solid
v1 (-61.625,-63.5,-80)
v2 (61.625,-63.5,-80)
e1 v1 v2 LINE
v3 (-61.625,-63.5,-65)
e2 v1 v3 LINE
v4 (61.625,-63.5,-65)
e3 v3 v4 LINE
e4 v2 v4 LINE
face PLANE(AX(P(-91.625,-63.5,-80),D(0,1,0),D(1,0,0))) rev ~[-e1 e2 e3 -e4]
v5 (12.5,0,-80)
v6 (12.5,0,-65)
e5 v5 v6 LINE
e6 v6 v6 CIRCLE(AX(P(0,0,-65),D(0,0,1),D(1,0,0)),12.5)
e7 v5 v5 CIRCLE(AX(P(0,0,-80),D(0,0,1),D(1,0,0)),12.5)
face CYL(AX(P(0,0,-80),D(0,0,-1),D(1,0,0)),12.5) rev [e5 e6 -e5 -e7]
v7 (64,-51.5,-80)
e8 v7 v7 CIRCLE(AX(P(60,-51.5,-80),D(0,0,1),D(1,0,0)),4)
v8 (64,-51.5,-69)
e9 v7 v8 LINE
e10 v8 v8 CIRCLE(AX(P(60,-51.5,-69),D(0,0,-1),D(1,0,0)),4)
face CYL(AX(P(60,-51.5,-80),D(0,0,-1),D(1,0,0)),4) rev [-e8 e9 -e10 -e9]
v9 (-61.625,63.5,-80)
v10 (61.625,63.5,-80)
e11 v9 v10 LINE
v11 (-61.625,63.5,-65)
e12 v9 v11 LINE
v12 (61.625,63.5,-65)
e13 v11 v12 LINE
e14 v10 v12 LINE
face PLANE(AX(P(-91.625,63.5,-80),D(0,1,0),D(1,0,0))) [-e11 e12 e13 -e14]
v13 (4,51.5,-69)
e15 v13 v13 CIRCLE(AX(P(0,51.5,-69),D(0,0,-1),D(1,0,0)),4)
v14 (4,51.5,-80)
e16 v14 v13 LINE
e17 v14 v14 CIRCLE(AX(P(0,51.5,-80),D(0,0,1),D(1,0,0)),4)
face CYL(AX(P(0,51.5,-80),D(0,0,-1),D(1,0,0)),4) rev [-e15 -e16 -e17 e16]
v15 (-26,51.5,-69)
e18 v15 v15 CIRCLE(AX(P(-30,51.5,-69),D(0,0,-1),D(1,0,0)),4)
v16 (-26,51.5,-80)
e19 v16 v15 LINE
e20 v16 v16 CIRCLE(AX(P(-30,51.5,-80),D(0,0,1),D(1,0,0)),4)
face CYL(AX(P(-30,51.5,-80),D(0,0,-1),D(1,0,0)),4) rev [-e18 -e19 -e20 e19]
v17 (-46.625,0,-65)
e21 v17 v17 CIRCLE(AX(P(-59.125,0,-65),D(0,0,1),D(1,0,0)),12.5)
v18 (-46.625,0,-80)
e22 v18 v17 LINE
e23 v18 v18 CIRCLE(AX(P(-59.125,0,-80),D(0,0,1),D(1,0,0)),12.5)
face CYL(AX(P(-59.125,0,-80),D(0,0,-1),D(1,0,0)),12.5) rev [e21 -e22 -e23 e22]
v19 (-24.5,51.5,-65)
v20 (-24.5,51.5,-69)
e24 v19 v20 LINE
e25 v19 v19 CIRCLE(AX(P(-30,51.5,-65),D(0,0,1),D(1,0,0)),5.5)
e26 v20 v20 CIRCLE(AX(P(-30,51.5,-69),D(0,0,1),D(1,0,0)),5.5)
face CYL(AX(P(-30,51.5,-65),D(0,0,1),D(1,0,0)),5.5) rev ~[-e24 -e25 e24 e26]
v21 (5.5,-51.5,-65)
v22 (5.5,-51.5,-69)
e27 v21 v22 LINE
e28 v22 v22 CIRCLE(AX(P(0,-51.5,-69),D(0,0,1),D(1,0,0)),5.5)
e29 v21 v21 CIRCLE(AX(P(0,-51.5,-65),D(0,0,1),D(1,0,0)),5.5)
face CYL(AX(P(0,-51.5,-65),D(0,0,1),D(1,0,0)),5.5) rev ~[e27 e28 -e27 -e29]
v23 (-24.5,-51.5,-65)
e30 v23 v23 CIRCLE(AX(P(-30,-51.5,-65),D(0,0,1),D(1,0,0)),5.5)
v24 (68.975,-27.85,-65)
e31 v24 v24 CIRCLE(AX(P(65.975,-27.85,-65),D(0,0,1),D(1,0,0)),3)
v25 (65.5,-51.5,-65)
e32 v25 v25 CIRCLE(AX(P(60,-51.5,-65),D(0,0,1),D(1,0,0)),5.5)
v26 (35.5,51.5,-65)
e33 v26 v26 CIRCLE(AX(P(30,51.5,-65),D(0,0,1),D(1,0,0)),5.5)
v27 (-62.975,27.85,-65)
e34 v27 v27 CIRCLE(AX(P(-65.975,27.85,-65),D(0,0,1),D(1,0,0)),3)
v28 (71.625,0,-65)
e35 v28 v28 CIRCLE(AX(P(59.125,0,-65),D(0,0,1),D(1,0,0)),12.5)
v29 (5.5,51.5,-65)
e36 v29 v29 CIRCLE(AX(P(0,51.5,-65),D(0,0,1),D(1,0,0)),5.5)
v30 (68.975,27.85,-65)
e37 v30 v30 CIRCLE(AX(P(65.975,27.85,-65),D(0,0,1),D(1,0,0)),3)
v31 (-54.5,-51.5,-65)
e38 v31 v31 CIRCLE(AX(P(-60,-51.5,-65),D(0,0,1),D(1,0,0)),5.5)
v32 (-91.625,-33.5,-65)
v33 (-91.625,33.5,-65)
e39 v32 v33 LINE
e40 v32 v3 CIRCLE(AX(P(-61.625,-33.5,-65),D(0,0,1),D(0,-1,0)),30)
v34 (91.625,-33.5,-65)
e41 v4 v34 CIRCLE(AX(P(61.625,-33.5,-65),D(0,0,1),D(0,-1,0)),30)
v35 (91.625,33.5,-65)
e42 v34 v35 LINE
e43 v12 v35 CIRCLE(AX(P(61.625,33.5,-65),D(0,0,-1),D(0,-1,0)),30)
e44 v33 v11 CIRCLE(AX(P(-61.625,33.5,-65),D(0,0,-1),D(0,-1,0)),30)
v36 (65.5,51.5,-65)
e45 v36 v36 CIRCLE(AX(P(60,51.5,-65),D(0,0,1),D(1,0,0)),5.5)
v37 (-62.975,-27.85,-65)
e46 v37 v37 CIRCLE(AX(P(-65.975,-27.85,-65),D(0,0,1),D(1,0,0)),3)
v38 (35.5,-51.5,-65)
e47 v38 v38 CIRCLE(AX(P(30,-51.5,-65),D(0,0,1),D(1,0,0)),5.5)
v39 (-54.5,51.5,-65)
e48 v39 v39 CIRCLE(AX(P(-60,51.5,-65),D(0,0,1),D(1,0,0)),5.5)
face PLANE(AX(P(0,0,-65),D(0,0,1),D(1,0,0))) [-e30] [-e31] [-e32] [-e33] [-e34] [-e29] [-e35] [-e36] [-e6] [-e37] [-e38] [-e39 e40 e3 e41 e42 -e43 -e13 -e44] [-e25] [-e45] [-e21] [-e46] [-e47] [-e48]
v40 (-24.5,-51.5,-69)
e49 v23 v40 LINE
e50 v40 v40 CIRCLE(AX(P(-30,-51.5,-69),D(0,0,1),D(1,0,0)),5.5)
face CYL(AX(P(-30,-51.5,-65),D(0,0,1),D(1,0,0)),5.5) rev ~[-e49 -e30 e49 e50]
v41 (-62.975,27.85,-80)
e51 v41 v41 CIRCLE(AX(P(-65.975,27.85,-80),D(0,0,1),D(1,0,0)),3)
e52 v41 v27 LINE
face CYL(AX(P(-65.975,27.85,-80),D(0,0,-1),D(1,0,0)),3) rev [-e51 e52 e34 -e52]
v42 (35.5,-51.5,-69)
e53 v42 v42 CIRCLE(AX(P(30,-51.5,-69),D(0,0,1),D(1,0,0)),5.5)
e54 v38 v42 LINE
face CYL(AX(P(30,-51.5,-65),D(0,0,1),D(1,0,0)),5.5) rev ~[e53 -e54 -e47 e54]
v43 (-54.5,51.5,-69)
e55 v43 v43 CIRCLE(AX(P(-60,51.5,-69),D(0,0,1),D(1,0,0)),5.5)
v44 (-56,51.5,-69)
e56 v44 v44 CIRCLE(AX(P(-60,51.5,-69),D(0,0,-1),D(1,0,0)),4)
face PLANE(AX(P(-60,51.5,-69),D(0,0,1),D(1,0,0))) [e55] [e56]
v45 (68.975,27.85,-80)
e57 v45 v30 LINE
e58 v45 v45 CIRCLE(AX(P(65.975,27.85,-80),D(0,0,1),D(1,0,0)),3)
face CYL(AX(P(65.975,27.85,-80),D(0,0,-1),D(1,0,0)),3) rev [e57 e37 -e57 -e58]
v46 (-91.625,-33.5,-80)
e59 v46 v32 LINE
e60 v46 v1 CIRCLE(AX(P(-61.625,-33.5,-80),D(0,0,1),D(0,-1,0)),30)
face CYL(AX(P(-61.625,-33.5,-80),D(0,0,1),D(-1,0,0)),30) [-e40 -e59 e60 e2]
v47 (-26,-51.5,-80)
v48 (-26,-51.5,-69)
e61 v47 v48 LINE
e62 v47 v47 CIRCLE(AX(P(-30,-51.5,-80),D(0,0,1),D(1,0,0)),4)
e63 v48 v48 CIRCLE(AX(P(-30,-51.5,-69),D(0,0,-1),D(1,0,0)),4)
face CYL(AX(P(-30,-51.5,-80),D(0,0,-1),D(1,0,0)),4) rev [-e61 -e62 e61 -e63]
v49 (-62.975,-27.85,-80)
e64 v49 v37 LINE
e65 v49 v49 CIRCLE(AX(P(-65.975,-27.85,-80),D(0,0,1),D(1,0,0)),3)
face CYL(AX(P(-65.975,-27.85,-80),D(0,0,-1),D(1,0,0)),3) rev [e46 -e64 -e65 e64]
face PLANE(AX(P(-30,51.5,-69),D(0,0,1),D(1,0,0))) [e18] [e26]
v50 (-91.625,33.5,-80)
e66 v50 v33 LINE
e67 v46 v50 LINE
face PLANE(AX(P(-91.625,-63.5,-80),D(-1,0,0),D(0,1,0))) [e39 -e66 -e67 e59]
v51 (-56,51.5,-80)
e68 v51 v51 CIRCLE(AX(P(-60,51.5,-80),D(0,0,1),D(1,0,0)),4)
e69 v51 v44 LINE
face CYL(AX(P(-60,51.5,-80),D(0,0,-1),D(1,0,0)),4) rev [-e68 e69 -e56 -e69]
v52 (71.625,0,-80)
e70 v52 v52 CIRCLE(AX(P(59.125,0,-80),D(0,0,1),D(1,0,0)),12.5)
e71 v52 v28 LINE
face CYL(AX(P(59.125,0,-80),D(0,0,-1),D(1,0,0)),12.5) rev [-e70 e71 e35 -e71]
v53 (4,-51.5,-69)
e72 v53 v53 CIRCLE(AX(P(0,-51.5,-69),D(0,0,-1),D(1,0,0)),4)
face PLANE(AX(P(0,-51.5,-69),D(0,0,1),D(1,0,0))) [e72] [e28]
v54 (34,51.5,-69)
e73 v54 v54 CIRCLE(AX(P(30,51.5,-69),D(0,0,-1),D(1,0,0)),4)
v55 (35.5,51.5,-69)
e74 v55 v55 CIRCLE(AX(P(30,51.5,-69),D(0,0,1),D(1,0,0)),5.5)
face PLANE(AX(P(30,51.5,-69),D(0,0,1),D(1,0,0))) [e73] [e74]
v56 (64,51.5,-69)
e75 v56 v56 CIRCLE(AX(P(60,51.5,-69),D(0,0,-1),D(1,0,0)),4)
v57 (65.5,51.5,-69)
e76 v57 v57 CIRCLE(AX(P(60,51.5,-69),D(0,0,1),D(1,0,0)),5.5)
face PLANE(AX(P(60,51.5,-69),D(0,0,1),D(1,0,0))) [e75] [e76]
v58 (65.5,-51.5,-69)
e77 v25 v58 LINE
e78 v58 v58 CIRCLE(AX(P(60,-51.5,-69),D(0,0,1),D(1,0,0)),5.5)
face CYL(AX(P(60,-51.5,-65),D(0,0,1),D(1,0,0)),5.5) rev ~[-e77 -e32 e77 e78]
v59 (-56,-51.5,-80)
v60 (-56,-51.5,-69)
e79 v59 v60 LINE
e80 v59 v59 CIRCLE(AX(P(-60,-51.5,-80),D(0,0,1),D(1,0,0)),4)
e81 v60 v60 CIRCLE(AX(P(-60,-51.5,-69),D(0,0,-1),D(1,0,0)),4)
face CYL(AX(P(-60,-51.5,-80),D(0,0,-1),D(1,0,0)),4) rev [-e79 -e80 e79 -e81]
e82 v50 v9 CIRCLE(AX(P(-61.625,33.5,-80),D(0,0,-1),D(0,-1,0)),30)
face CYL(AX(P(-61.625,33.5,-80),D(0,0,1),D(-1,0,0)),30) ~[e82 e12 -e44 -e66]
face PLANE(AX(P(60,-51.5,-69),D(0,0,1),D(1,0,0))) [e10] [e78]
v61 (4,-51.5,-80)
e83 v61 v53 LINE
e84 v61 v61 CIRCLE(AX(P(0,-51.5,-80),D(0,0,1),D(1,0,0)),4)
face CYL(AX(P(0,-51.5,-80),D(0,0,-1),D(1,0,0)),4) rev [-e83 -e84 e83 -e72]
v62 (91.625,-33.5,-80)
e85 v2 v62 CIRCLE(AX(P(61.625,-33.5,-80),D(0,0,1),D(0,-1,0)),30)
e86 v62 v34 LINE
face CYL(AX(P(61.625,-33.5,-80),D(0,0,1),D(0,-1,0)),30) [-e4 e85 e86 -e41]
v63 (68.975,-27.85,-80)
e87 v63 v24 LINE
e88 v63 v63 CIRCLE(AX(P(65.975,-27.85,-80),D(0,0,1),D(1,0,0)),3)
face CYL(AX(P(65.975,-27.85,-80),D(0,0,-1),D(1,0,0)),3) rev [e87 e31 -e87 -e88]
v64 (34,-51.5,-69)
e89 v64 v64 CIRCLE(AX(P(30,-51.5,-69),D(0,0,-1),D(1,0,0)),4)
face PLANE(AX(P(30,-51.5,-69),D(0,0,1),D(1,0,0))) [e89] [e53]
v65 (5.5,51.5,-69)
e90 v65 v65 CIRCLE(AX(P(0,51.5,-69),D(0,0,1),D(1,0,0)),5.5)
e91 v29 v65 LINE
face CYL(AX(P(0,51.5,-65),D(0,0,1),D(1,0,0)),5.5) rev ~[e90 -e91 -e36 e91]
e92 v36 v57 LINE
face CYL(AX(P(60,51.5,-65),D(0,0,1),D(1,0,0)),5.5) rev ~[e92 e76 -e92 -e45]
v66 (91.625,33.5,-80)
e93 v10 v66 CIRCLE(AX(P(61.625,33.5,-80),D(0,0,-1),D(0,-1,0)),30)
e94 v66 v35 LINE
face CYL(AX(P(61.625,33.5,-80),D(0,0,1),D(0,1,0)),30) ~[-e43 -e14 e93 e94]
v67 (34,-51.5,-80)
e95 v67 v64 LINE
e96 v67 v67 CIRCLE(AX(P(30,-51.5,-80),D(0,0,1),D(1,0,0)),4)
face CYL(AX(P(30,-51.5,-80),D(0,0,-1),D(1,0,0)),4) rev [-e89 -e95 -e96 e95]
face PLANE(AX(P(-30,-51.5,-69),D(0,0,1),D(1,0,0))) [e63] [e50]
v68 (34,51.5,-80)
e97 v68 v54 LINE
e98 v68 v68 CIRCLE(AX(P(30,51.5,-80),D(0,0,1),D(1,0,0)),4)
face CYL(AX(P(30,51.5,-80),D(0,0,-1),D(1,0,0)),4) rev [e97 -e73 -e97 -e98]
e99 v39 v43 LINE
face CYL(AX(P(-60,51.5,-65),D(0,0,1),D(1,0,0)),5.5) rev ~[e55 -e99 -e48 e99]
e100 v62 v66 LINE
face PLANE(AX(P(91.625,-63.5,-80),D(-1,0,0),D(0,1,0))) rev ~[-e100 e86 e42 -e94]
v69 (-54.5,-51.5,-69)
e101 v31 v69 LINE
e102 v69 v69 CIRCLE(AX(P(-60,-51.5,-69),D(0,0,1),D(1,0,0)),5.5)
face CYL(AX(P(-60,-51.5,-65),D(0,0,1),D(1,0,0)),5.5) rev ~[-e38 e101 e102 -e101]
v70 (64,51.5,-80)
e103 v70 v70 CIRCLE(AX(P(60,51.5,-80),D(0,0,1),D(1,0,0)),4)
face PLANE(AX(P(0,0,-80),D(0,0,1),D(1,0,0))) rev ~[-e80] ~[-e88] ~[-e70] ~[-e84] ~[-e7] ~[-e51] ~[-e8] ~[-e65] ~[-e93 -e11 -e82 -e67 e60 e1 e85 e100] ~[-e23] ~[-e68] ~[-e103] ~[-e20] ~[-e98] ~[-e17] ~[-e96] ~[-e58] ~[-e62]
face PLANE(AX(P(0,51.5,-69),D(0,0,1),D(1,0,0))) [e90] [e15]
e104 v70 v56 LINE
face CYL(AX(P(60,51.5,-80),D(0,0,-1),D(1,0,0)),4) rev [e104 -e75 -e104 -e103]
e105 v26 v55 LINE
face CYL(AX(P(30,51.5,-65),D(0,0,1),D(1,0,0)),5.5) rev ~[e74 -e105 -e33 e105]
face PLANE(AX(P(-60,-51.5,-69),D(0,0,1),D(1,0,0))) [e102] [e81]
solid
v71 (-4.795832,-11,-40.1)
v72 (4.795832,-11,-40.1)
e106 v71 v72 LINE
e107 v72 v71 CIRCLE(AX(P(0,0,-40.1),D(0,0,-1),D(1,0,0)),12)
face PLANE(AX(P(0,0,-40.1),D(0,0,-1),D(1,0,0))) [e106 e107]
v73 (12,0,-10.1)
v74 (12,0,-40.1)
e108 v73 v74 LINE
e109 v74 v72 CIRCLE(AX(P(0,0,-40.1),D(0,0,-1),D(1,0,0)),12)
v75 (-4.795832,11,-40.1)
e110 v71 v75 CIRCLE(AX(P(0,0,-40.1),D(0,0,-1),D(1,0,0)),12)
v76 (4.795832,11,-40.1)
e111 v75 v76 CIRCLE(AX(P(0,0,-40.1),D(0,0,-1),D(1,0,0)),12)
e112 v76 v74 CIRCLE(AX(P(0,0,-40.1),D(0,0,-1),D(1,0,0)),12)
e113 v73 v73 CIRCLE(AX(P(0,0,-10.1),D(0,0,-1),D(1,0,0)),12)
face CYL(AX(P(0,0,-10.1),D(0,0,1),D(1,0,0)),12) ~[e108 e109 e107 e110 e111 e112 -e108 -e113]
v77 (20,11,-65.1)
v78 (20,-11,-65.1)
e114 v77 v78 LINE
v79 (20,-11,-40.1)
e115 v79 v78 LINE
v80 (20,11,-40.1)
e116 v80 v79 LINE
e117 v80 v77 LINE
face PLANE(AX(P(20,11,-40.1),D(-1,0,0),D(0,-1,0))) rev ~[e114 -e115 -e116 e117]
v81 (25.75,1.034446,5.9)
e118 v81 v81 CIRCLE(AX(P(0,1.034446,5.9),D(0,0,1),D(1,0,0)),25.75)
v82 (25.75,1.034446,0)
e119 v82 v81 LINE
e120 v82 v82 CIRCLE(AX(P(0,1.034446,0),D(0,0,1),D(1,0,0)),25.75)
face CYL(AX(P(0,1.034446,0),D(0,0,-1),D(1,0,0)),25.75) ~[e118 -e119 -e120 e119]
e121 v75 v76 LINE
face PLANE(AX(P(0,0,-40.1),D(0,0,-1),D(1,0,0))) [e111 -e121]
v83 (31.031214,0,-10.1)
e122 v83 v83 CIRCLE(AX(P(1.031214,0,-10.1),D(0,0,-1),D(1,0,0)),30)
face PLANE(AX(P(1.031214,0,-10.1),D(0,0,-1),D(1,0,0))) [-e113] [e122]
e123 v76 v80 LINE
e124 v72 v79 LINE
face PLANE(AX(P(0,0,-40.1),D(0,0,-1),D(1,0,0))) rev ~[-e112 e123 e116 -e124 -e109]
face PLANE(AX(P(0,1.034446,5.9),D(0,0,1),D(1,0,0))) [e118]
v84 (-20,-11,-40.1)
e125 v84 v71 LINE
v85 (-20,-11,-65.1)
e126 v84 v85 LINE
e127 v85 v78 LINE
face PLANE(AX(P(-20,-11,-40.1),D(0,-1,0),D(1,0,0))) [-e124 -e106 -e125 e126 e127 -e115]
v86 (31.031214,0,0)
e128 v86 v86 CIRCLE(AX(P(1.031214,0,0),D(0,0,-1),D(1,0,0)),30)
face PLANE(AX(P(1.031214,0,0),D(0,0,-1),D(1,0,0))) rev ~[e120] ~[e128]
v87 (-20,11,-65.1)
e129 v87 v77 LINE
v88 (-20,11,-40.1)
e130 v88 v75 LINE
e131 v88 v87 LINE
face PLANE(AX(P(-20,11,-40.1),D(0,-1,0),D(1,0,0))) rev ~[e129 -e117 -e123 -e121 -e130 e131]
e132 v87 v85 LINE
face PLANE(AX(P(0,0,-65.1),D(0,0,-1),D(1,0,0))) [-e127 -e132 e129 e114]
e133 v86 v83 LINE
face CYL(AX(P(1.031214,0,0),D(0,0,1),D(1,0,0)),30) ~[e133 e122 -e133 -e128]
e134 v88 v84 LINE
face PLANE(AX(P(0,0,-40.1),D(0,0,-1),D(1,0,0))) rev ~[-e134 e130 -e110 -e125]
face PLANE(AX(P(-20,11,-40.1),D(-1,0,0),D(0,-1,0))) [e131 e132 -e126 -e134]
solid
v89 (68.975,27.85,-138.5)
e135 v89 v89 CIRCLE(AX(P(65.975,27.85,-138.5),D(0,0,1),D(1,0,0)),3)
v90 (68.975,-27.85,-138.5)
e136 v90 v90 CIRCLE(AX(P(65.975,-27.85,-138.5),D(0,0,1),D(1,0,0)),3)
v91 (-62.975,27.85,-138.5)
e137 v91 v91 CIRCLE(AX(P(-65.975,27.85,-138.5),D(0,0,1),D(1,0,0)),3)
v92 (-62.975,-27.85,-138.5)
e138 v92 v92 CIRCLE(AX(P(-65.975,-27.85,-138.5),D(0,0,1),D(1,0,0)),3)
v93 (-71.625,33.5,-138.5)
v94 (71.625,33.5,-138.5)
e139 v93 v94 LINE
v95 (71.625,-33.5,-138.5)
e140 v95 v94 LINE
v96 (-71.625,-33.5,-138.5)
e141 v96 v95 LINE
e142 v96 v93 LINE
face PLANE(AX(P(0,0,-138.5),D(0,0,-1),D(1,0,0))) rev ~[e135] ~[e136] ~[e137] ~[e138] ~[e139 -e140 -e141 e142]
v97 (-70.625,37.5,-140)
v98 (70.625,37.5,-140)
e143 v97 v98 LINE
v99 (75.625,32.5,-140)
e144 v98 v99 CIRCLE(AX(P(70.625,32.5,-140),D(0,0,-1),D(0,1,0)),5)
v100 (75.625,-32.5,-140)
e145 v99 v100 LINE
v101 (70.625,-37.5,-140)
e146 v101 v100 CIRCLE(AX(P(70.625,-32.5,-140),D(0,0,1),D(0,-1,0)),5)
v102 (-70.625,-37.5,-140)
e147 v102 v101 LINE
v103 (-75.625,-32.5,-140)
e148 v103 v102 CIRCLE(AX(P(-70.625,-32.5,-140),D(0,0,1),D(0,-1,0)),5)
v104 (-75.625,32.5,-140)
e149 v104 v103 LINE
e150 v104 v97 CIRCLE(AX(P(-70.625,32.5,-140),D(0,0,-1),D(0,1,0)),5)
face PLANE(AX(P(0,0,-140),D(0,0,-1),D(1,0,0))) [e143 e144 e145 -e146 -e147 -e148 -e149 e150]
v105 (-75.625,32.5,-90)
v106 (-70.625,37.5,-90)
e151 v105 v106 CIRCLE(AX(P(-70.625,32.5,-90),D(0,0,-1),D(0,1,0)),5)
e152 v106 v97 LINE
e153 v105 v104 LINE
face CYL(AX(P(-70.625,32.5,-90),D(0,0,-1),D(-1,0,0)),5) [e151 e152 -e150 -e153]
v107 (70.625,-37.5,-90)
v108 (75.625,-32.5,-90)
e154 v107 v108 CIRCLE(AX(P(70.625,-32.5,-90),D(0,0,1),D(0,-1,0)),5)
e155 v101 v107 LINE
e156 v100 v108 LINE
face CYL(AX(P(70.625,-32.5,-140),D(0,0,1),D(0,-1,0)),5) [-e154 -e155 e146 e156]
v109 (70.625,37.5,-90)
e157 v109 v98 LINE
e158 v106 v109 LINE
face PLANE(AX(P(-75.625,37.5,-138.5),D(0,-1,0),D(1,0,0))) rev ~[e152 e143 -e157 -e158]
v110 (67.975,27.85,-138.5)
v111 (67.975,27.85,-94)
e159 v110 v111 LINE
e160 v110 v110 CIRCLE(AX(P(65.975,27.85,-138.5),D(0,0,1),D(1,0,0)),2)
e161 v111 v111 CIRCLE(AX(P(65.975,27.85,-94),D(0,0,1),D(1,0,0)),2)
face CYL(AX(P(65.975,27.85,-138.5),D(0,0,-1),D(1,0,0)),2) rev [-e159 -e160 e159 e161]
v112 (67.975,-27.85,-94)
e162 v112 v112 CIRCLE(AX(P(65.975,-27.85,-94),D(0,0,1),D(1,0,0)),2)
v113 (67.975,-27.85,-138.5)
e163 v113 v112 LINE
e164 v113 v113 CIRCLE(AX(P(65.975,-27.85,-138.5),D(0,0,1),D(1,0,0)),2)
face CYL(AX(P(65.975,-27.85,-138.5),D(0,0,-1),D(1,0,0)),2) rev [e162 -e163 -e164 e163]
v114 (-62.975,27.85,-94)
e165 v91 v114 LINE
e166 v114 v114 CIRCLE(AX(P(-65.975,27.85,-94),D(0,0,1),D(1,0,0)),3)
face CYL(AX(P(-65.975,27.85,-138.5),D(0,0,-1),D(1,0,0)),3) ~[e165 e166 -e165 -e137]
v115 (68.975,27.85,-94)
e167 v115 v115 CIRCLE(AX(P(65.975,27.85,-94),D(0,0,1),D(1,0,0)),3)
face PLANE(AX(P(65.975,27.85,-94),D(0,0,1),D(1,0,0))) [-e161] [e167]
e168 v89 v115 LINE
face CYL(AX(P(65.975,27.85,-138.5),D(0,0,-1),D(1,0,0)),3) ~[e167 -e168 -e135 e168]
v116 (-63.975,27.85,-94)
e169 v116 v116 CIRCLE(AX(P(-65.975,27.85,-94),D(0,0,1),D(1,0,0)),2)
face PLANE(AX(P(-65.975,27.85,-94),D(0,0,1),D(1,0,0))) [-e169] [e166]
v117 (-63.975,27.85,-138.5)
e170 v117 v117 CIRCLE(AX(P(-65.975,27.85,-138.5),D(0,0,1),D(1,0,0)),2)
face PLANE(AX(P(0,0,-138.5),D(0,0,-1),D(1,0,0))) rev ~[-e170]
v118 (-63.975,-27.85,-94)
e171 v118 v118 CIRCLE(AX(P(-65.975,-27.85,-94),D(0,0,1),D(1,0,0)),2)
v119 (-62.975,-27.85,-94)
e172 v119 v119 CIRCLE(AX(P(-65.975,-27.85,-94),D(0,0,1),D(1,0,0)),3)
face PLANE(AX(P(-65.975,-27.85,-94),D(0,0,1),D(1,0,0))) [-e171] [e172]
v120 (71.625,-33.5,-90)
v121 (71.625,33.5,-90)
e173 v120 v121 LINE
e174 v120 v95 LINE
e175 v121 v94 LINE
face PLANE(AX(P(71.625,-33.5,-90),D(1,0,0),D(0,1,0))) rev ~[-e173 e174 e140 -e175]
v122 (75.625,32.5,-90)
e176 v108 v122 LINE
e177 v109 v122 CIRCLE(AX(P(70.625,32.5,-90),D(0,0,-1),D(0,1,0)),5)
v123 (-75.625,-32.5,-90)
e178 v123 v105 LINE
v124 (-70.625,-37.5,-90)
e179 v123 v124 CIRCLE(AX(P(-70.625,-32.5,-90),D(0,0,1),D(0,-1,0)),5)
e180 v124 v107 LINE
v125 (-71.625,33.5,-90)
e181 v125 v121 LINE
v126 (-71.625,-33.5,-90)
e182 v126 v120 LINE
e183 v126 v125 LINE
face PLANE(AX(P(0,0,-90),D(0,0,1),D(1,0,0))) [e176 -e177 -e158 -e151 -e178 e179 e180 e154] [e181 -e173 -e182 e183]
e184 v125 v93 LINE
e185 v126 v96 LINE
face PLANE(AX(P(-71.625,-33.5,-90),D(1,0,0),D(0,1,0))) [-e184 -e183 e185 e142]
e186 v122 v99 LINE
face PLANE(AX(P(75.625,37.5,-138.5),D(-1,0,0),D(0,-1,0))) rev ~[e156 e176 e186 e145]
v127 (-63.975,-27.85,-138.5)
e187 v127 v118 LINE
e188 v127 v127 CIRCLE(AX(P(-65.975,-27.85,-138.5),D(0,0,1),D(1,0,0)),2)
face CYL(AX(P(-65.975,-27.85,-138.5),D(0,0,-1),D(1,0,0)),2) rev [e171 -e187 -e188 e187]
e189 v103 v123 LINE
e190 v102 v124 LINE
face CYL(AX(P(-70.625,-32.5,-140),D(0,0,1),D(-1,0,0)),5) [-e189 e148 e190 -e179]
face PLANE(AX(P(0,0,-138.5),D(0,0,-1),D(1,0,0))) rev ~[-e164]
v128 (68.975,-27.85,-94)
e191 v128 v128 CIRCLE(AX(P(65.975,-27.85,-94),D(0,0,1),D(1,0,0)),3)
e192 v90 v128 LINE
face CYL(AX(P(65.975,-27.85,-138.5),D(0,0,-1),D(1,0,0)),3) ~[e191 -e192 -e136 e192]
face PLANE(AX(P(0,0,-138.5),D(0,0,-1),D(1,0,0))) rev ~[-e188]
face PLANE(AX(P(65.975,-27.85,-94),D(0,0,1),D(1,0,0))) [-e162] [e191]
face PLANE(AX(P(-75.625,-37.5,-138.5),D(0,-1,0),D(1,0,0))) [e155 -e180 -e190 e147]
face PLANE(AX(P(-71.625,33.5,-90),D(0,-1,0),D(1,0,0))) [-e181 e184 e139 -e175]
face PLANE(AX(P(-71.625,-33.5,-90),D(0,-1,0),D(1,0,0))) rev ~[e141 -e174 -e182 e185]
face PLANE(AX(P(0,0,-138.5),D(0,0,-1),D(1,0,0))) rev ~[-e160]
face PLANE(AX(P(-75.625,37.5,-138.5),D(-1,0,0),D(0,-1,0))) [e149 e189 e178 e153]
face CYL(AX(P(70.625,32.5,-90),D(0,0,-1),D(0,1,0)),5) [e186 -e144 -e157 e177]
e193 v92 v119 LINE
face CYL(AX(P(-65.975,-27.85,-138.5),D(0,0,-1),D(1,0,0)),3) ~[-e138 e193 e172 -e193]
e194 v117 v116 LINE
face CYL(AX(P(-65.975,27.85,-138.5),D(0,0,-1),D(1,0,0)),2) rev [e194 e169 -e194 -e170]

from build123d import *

# Parameters (mm, degrees)
F0_R      = 25.75
F1_DEPTH  = 5.9
F2_R      = 30
F3_DEPTH  = 10.1
F4_R      = 12
F5_DEPTH  = 30
F6_W      = 40
F6_H      = 22
F7_DEPTH  = 25
F9_W      = 151.25
F9_H      = 75
F9_W_2    = 143.25
F9_H_2    = 67
F10_DEPTH = 48.5
F11_W     = 151.25
F11_H     = 75
F12_DEPTH = 1.5
F13_R     = 3
F13_R_2   = 2
F14_DEPTH = 44.5
F15_R     = 5
F17_W     = 183.25
F17_H     = 127
F17_R     = 4
F17_R_2   = 3
F17_R_3   = 12.5
F18_DEPTH = 15
F19_R     = 30
F20_R     = 5.5
F21_DEPTH = 4


with BuildPart() as f1:
    # F0 (on Top) → F1 (new body)
    with BuildSketch(Plane.XY):
        with Locations((0, 1.034446)):
            Circle(F0_R)
    extrude(amount=F1_DEPTH)

    # F2 (on face) → F3 (join)
    with BuildSketch(Plane(origin=(0, 0, 0), x_dir=(1, 0, 0), z_dir=(0, 0, -1))):
        with Locations((1.031214, 0)):
            Circle(F2_R)
    extrude(amount=F3_DEPTH)

    # F4 (on face) → F5 (join)
    with BuildSketch(Plane(origin=(0, 0, -10.1), x_dir=(1, 0, 0), z_dir=(0, 0, -1))):
        Circle(F4_R)
    extrude(amount=F5_DEPTH)

    # F6 (on face) → F7 (join)
    with BuildSketch(Plane(origin=(0, 0, -40.1), x_dir=(1, 0, 0), z_dir=(0, 0, -1))):
        Rectangle(F6_W, F6_H)
    extrude(amount=F7_DEPTH)


with BuildPart() as f10:
    # F9 (on offset) → F10 (new body)
    with BuildSketch(Plane.XY.offset(-90)):
        Rectangle(F9_W, F9_H)
        Rectangle(F9_W_2, F9_H_2, mode=Mode.SUBTRACT)
    extrude(amount=-F10_DEPTH)

    # F11 (on face) → F12 (join)
    with BuildSketch(Plane(origin=(0, 0, -138.5), x_dir=(1, 0, 0), z_dir=(0, 0, -1))):
        Rectangle(F11_W, F11_H)
    extrude(amount=F12_DEPTH)

    # F13 (on face) → F14 (join)
    with BuildSketch(Plane.XY.offset(-138.5)):
        with Locations((65.975, 27.85)):
            Circle(F13_R)
        with Locations((65.975, 27.85)):
            Circle(F13_R_2, mode=Mode.SUBTRACT)
        with Locations((-65.975, 27.85)):
            Circle(F13_R)
        with Locations((-65.975, 27.85)):
            Circle(F13_R_2, mode=Mode.SUBTRACT)
        with Locations((65.975, -27.85)):
            Circle(F13_R)
        with Locations((65.975, -27.85)):
            Circle(F13_R_2, mode=Mode.SUBTRACT)
        with Locations((-65.975, -27.85)):
            Circle(F13_R)
        with Locations((-65.975, -27.85)):
            Circle(F13_R_2, mode=Mode.SUBTRACT)
    extrude(amount=F14_DEPTH)

    # F15
    f15_edges = [f10.edges().sort_by_distance(p)[0] for p in [
        (-75.625, 37.5, -115),
        (-75.625, -37.5, -115),
        (75.625, -37.5, -115),
        (75.625, 37.5, -115),
    ]]
    fillet(f15_edges, radius=F15_R)


with BuildPart() as f18:
    # F17 (on offset) → F18 (new body)
    with BuildSketch(Plane.XY.offset(-80)):
        Rectangle(F17_W, F17_H)
        with Locations((-60, -51.5)):
            Circle(F17_R, mode=Mode.SUBTRACT)
        with Locations((-30, -51.5)):
            Circle(F17_R, mode=Mode.SUBTRACT)
        with Locations((-65.975, -27.85)):
            Circle(F17_R_2, mode=Mode.SUBTRACT)
        with Locations((0, -51.5)):
            Circle(F17_R, mode=Mode.SUBTRACT)
        with Locations((30, -51.5)):
            Circle(F17_R, mode=Mode.SUBTRACT)
        with Locations((60, -51.5)):
            Circle(F17_R, mode=Mode.SUBTRACT)
        with Locations((65.975, -27.85)):
            Circle(F17_R_2, mode=Mode.SUBTRACT)
        with Locations((-59.125, 0)):
            Circle(F17_R_3, mode=Mode.SUBTRACT)
        with Locations((-65.975, 27.85)):
            Circle(F17_R_2, mode=Mode.SUBTRACT)
        with Locations((-60, 51.5)):
            Circle(F17_R, mode=Mode.SUBTRACT)
        with Locations((-30, 51.5)):
            Circle(F17_R, mode=Mode.SUBTRACT)
        Circle(F17_R_3, mode=Mode.SUBTRACT)
        with Locations((59.125, 0)):
            Circle(F17_R_3, mode=Mode.SUBTRACT)
        with Locations((65.975, 27.85)):
            Circle(F17_R_2, mode=Mode.SUBTRACT)
        with Locations((0, 51.5)):
            Circle(F17_R, mode=Mode.SUBTRACT)
        with Locations((30, 51.5)):
            Circle(F17_R, mode=Mode.SUBTRACT)
        with Locations((60, 51.5)):
            Circle(F17_R, mode=Mode.SUBTRACT)
    extrude(amount=F18_DEPTH)

    # F19
    f19_edges = [f18.edges().sort_by_distance(p)[0] for p in [
        (91.625, 63.5, -72.5),
        (91.625, -63.5, -72.5),
        (-91.625, -63.5, -72.5),
        (-91.625, 63.5, -72.5),
    ]]
    fillet(f19_edges, radius=F19_R)

    # F20 (on face) → F21 (cut)
    with BuildSketch(Plane.XY.offset(-65)):
        with Locations((-60, 51.5)):
            Circle(F20_R)
        with Locations((-30, 51.5)):
            Circle(F20_R)
        with Locations((0, 51.5)):
            Circle(F20_R)
        with Locations((30, 51.5)):
            Circle(F20_R)
        with Locations((60, 51.5)):
            Circle(F20_R)
        with Locations((60, -51.5)):
            Circle(F20_R)
        with Locations((30, -51.5)):
            Circle(F20_R)
        with Locations((0, -51.5)):
            Circle(F20_R)
        with Locations((-30, -51.5)):
            Circle(F20_R)
        with Locations((-60, -51.5)):
            Circle(F20_R)
    extrude(amount=-F21_DEPTH, mode=Mode.SUBTRACT)


solid = Compound([f1.part, f10.part, f18.part])
